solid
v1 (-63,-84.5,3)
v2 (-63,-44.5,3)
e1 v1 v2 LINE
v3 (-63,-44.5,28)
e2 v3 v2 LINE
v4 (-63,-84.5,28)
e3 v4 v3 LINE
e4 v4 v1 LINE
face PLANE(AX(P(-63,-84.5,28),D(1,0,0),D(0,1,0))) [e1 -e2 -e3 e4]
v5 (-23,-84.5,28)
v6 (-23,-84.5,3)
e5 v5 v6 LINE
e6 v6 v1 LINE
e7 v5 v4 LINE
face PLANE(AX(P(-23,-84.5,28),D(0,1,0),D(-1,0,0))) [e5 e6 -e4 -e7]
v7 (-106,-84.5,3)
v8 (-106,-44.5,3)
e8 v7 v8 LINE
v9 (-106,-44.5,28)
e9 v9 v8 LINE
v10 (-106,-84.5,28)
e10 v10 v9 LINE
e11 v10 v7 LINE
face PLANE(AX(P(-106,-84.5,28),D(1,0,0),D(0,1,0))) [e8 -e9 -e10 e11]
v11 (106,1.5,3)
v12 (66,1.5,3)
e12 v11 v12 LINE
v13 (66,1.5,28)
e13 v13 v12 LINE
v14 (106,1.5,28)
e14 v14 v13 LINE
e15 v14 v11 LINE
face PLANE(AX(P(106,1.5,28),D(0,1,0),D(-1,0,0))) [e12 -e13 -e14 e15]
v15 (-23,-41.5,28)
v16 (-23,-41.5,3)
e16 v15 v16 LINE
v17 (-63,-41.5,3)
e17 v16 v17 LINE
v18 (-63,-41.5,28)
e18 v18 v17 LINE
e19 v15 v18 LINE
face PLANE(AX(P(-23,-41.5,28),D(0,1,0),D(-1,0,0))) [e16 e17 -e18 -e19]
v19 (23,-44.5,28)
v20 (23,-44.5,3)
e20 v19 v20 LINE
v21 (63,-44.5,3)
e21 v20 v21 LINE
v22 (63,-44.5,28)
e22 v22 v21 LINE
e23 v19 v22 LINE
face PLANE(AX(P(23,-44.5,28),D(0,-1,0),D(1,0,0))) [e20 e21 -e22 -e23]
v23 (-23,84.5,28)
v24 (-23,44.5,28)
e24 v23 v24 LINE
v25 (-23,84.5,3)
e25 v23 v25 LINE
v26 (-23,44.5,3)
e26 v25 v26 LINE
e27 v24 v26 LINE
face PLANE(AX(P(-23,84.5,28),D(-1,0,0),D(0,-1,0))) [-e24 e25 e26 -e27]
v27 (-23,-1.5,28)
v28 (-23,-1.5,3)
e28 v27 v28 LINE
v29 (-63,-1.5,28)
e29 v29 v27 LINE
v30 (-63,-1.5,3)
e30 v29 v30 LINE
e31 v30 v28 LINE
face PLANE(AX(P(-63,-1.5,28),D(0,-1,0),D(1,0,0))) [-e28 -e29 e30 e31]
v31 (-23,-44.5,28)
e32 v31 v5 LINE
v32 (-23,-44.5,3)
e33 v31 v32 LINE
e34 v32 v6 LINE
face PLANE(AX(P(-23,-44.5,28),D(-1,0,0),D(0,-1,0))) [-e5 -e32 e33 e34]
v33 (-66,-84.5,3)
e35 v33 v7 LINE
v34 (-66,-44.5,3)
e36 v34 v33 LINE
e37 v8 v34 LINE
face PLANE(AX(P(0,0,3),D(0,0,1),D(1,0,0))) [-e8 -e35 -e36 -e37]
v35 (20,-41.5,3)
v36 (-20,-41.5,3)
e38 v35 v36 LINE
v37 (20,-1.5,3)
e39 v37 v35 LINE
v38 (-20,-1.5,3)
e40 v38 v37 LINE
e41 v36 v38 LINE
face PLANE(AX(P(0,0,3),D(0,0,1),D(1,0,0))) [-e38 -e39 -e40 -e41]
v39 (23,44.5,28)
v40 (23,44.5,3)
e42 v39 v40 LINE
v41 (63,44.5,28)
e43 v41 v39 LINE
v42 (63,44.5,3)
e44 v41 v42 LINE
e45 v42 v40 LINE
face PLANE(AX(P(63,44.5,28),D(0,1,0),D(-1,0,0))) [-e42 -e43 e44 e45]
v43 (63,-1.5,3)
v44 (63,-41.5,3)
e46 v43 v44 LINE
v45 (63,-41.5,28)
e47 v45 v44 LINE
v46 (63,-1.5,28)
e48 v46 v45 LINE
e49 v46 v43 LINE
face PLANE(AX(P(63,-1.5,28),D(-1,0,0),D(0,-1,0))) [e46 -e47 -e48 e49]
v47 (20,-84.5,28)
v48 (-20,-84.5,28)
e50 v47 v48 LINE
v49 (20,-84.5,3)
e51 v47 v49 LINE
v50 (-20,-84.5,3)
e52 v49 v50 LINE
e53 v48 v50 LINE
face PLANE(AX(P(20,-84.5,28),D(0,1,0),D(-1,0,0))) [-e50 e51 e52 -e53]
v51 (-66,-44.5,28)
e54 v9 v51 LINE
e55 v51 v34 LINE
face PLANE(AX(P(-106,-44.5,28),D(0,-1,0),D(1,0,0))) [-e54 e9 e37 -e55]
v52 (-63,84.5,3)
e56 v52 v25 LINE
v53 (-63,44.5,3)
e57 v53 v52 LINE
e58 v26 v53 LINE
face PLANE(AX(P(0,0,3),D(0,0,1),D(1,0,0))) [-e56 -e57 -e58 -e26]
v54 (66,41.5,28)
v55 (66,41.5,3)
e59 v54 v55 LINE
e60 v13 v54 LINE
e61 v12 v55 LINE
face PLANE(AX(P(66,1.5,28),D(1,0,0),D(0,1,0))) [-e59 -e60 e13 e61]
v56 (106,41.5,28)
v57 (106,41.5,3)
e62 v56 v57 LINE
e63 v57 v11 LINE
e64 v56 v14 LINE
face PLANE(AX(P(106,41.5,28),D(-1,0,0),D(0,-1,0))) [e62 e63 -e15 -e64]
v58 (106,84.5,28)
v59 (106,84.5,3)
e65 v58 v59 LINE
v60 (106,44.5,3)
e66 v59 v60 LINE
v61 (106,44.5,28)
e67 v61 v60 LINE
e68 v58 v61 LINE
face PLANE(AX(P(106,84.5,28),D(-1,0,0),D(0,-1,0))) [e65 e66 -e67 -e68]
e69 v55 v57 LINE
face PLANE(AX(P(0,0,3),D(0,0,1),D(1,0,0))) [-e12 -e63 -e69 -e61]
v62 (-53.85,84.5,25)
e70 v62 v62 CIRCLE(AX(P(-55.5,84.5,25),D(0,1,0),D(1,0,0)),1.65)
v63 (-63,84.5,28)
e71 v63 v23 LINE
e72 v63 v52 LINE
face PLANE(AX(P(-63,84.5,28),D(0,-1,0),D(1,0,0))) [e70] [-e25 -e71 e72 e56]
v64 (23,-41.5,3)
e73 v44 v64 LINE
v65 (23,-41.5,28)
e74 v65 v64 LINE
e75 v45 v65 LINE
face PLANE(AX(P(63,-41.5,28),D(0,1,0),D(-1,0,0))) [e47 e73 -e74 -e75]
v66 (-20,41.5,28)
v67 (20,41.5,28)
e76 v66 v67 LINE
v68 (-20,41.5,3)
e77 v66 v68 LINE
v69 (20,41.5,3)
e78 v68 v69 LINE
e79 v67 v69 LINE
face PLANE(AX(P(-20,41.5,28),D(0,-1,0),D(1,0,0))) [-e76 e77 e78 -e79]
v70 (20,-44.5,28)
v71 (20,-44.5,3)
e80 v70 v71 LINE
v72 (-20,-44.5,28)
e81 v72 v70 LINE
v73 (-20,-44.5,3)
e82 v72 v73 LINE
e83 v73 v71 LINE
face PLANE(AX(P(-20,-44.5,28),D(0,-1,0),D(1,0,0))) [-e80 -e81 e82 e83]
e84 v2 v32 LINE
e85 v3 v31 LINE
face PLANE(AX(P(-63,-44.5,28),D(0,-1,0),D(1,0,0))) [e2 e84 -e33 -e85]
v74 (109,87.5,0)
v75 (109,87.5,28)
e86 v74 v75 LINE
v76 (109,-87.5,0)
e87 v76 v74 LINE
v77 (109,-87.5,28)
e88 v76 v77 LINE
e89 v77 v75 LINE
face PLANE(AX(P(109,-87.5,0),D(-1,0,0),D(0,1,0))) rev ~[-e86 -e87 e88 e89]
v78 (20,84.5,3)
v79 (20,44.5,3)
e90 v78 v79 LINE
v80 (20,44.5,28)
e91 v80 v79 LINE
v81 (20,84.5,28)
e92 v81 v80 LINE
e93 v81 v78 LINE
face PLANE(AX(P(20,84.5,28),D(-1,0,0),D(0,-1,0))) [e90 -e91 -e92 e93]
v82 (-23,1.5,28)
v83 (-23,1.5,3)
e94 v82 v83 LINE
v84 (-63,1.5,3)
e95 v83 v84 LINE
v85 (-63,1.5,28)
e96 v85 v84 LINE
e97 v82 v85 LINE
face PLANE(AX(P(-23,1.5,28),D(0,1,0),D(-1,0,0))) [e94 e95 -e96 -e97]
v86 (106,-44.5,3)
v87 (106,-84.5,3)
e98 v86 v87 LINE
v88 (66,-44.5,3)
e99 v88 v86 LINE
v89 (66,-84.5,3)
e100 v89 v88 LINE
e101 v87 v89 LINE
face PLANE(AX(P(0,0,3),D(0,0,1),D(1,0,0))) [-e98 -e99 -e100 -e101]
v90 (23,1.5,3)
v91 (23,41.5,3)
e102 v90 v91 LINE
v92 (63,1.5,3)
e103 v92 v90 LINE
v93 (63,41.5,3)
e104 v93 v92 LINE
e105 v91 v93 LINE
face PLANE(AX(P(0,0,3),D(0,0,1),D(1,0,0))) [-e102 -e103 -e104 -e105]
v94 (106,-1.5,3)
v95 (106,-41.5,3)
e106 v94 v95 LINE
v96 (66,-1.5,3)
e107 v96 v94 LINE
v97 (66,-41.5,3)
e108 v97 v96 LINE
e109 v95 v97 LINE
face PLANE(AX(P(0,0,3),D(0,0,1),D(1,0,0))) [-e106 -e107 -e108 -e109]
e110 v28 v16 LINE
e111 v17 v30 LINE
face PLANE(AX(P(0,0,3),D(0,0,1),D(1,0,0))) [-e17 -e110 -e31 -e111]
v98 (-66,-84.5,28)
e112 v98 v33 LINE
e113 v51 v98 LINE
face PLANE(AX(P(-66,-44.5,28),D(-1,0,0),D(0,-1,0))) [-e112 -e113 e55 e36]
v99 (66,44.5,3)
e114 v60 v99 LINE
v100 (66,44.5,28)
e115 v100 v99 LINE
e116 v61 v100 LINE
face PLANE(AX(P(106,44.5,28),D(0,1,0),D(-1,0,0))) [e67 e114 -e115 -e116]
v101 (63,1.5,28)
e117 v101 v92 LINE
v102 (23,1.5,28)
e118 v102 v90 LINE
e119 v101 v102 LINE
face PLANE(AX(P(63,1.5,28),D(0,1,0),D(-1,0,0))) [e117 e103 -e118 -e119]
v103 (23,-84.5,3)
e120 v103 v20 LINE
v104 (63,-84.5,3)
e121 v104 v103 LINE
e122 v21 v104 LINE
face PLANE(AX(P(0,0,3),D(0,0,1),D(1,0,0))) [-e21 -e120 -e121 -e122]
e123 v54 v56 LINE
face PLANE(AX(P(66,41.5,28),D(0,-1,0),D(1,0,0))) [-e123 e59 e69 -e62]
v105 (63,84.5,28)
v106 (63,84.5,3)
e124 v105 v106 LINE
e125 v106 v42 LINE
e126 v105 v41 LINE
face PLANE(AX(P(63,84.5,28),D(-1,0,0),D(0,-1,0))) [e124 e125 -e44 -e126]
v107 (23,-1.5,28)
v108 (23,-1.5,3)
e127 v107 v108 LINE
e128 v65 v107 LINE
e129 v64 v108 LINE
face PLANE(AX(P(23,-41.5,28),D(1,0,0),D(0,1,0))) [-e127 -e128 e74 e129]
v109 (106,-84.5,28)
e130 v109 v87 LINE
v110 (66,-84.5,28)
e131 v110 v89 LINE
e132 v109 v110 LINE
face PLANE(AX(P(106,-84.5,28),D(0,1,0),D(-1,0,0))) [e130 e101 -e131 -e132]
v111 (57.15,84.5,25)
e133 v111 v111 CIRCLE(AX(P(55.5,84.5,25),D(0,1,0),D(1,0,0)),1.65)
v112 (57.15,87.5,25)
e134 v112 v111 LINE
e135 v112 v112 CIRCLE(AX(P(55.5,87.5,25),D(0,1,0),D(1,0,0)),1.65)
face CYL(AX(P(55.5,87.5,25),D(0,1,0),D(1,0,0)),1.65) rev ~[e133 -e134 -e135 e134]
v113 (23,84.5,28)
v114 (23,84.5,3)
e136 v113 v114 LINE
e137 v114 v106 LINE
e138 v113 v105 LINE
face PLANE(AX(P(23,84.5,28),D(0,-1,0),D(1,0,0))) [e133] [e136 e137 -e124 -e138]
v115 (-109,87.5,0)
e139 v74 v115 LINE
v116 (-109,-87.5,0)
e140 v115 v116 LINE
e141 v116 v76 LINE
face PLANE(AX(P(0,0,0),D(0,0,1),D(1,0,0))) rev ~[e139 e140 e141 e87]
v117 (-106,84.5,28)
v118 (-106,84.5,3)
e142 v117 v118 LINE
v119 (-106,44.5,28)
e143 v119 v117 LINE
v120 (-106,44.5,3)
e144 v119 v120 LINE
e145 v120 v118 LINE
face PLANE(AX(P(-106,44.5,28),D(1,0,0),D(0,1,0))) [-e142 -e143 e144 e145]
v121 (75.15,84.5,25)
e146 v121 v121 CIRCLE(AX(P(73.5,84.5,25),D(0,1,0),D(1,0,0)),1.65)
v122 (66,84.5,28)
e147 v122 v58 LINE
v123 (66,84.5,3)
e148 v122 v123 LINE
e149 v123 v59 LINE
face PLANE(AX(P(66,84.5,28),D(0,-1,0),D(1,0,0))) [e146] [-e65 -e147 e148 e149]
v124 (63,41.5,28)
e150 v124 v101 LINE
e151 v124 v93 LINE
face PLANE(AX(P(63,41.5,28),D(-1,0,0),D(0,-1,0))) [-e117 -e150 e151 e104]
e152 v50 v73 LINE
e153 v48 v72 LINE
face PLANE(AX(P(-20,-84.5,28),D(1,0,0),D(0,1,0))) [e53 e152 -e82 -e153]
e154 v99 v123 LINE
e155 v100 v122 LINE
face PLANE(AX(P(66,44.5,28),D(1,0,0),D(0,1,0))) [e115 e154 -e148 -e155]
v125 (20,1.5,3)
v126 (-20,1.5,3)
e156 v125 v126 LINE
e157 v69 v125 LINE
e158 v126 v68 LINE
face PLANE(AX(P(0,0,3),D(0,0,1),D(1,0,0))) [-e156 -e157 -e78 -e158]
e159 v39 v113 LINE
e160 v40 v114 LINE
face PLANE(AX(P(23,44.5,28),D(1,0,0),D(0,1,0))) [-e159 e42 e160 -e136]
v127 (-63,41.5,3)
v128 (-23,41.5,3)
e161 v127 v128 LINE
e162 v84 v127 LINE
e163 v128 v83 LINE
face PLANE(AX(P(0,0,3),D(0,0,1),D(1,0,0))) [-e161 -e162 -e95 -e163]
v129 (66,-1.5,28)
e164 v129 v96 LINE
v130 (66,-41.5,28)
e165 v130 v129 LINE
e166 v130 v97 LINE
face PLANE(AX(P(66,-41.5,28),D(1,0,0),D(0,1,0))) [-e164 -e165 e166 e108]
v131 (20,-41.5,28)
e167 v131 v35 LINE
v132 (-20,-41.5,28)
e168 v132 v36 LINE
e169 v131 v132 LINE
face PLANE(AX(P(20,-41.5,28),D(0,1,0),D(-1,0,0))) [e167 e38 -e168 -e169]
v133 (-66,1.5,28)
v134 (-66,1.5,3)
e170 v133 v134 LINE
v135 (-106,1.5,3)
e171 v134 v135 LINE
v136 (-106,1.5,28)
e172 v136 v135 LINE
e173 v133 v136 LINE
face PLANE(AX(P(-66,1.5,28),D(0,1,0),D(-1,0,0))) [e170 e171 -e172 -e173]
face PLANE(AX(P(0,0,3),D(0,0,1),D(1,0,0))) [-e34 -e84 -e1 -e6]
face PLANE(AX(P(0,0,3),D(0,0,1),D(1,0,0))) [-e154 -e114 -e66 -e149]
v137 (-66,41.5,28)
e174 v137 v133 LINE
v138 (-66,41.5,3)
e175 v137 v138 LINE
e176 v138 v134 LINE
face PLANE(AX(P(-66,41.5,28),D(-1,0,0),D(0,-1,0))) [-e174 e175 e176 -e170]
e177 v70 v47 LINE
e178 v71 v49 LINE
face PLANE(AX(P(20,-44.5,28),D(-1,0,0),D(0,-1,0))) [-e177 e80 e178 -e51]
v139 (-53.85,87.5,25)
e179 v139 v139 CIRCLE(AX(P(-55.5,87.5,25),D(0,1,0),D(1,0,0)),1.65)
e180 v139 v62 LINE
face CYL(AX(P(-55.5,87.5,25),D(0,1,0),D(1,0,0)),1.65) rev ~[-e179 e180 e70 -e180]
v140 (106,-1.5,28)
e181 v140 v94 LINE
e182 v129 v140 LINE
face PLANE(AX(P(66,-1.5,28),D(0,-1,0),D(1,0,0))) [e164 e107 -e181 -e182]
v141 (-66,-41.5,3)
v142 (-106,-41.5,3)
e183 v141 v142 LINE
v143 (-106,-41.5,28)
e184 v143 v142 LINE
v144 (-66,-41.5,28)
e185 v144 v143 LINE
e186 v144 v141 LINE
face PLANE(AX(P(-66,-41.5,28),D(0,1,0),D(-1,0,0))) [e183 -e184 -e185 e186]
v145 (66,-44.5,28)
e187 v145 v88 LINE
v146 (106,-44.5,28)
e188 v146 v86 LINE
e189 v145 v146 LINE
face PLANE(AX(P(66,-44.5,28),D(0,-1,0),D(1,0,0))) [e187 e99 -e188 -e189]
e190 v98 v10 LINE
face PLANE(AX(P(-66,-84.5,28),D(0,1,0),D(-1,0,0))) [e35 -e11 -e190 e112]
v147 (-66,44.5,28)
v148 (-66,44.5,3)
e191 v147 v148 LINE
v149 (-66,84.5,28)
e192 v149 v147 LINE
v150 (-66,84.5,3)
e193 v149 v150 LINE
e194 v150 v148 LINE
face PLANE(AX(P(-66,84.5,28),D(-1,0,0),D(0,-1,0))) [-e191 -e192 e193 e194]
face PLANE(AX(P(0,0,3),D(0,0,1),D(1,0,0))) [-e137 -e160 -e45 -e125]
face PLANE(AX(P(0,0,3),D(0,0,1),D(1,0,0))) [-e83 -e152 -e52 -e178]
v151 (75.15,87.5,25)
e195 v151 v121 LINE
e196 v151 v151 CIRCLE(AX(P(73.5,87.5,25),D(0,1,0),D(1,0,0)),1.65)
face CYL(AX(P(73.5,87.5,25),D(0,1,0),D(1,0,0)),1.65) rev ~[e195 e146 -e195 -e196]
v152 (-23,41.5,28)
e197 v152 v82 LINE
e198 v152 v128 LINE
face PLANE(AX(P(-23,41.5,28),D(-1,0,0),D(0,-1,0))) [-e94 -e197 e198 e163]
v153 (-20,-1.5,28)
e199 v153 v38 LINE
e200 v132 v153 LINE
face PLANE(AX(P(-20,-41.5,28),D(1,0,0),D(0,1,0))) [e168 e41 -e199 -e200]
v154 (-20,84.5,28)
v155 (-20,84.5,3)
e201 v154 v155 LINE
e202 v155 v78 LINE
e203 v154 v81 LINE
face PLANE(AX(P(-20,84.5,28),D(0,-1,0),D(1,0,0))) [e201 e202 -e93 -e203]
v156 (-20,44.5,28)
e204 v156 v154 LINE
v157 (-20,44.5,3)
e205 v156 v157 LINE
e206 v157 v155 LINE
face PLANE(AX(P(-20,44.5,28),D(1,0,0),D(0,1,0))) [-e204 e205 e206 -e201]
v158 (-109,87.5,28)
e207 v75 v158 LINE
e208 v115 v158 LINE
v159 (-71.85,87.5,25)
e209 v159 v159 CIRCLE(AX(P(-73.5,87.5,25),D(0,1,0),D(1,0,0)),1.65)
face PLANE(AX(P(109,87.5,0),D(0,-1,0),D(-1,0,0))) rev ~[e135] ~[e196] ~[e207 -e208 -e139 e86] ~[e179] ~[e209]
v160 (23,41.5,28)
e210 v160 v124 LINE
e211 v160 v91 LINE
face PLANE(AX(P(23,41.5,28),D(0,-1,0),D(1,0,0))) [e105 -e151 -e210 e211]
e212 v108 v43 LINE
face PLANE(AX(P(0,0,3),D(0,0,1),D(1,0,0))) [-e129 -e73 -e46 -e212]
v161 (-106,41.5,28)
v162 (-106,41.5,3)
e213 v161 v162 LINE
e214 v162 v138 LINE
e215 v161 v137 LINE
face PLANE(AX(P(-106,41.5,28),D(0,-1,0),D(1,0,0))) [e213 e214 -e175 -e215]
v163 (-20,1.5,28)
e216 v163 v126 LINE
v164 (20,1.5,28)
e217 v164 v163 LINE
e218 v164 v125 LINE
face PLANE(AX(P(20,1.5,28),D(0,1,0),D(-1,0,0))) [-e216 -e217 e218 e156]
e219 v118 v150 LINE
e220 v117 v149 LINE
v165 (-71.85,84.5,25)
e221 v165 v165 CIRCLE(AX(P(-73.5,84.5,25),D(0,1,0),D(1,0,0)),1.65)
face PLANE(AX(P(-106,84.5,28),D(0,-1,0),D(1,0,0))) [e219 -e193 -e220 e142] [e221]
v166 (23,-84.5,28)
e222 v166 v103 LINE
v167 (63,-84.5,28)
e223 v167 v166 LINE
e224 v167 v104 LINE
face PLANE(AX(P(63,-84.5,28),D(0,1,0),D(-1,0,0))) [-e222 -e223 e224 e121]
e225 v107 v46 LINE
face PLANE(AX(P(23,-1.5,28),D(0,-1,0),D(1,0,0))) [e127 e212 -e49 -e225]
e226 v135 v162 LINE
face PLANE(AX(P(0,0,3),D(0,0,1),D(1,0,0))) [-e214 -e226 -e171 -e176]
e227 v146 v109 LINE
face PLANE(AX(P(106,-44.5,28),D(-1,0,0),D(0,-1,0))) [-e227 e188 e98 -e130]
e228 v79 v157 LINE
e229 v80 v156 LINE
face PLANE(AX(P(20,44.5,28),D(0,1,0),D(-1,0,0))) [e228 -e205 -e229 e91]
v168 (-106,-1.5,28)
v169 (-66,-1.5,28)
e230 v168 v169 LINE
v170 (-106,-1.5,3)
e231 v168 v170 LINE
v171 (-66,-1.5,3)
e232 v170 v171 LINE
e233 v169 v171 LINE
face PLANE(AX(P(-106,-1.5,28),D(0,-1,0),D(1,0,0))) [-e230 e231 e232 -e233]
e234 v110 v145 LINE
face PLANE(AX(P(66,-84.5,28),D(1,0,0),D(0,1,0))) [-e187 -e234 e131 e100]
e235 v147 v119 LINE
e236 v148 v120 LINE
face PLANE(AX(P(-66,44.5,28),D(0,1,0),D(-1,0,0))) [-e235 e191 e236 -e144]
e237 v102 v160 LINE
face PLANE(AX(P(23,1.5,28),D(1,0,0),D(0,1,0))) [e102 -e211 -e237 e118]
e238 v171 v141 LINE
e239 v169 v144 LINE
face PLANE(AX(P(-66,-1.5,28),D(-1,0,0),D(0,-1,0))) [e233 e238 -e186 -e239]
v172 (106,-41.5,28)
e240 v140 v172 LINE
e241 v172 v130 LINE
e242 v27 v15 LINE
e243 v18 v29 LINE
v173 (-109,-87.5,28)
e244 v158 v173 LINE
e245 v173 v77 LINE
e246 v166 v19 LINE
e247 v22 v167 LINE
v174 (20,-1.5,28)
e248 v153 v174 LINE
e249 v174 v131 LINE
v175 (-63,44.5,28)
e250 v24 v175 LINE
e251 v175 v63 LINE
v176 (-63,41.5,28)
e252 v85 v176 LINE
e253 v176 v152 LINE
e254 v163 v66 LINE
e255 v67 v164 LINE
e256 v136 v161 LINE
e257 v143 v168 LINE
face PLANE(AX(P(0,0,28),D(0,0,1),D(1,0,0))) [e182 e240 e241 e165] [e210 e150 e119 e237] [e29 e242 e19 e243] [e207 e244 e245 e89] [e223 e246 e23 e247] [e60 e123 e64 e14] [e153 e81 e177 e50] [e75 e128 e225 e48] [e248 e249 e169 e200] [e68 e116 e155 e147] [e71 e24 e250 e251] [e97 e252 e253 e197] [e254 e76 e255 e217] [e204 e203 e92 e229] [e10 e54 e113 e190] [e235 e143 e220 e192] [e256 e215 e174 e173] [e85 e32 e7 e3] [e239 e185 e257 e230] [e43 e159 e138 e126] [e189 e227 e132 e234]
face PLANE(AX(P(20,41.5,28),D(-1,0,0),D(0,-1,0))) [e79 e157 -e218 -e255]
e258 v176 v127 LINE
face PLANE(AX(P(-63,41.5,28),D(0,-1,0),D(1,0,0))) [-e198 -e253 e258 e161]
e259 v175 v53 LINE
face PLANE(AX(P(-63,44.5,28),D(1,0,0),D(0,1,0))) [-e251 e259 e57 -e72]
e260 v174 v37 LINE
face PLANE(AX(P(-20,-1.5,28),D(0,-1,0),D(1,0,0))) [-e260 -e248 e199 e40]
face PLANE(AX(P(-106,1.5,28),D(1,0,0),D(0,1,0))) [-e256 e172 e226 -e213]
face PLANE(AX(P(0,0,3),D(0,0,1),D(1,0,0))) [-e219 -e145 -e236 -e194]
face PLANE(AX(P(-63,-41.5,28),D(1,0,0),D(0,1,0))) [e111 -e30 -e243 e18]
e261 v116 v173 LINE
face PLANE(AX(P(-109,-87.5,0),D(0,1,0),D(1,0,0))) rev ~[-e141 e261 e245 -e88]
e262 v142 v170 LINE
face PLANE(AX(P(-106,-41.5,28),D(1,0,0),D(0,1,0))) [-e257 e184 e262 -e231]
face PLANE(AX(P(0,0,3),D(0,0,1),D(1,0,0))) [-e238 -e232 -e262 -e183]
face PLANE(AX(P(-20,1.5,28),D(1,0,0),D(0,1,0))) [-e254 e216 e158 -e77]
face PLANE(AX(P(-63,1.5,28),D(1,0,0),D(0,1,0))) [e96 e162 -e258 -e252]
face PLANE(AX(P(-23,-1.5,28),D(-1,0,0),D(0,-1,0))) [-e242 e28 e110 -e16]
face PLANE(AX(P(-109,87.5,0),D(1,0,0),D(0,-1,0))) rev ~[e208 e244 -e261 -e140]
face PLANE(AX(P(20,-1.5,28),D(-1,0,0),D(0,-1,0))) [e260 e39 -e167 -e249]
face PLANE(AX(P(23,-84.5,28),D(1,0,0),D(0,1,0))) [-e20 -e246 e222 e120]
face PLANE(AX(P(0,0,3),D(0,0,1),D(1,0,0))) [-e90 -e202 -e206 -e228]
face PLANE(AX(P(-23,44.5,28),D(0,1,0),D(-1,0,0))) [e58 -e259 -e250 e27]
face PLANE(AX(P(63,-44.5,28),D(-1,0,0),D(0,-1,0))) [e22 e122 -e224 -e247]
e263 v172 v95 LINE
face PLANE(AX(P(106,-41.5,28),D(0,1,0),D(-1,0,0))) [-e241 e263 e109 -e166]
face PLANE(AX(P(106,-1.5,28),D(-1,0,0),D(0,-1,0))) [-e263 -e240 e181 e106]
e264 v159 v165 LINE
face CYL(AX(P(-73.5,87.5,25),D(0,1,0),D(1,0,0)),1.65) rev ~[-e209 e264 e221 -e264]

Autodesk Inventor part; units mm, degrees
ref_plane "YZ Plane" through (0, 0, 0) normal (1, 0, 0) x (0, 1, 0)
ref_plane "XZ Plane" through (0, 0, 0) normal (0, 1, 0) x (-1, 0, 0)
ref_plane "XY Plane" through (0, 0, 0) normal (0, 0, 1) x (1, 0, 0)
sketch "Sketch1" plane through (0, 0, 0) normal (0, 0, 1) x (1, 0, 0)
  line L0 (-109, -87.5) -> (109, -87.5)
  line L1 (109, -87.5) -> (109, 87.5)
  line L2 (109, 87.5) -> (-109, 87.5)
  line L3 (-109, 87.5) -> (-109, -87.5)
  line L4 (-109, -87.5) -> (109, 87.5) construction
  line L5 (109, -87.5) -> (-109, 87.5) construction
  point P0 (0, 0)
  dimension "d0" = 218
  dimension "d1" = 175
extrude "Extrusion1" add sketch "Sketch1" along normal blind 28
sketch "Sketch2" plane through (0, 0, 28) normal (0, 0, 1) x (1, 0, 0)
  line L0 (-106, 84.5) -> (-66, 84.5)
  line L1 (-66, 84.5) -> (-66, 44.5)
  line L2 (-66, 44.5) -> (-106, 44.5)
  line L3 (-106, 44.5) -> (-106, 84.5)
  line L4 (-106, 84.5) -> (-66, 44.5) construction
  line L5 (-66, 84.5) -> (-106, 44.5) construction
  line L6 (109, 87.5) -> (-109, 87.5) projected
  line L7 (-109, 87.5) -> (-109, -87.5) projected
  line L8 (-63, 84.5) -> (-23, 84.5)
  line L9 (-23, 84.5) -> (-23, 44.5)
  line L10 (-23, 44.5) -> (-63, 44.5)
  line L11 (-63, 44.5) -> (-63, 84.5)
  line L12 (-63, 84.5) -> (-23, 44.5) construction
  line L13 (-23, 84.5) -> (-63, 44.5) construction
  line L14 (-20, 84.5) -> (20, 84.5)
  line L15 (20, 84.5) -> (20, 44.5)
  line L16 (20, 44.5) -> (-20, 44.5)
  line L17 (-20, 44.5) -> (-20, 84.5)
  line L18 (-20, 84.5) -> (20, 44.5) construction
  line L19 (20, 84.5) -> (-20, 44.5) construction
  line L20 (23, 84.5) -> (63, 84.5)
  line L21 (63, 84.5) -> (63, 44.5)
  line L22 (63, 44.5) -> (23, 44.5)
  line L23 (23, 44.5) -> (23, 84.5)
  line L24 (23, 84.5) -> (63, 44.5) construction
  line L25 (63, 84.5) -> (23, 44.5) construction
  line L26 (66, 84.5) -> (106, 84.5)
  line L27 (106, 84.5) -> (106, 44.5)
  line L28 (106, 44.5) -> (66, 44.5)
  line L29 (66, 44.5) -> (66, 84.5)
  line L30 (66, 84.5) -> (106, 44.5) construction
  line L31 (106, 84.5) -> (66, 44.5) construction
  line L32 (-106, 41.5) -> (-66, 41.5)
  line L33 (-66, 41.5) -> (-66, 1.5)
  line L34 (-66, 1.5) -> (-106, 1.5)
  line L35 (-106, 1.5) -> (-106, 41.5)
  line L36 (-106, 41.5) -> (-66, 1.5) construction
  line L37 (-66, 41.5) -> (-106, 1.5) construction
  line L38 (-63, 41.5) -> (-23, 41.5)
  line L39 (-23, 41.5) -> (-23, 1.5)
  line L40 (-23, 1.5) -> (-63, 1.5)
  line L41 (-63, 1.5) -> (-63, 41.5)
  line L42 (-63, 41.5) -> (-23, 1.5) construction
  line L43 (-23, 41.5) -> (-63, 1.5) construction
  line L44 (-20, 41.5) -> (20, 41.5)
  line L45 (20, 41.5) -> (20, 1.5)
  line L46 (20, 1.5) -> (-20, 1.5)
  line L47 (-20, 1.5) -> (-20, 41.5)
  line L48 (-20, 41.5) -> (20, 1.5) construction
  line L49 (20, 41.5) -> (-20, 1.5) construction
  line L50 (23, 41.5) -> (63, 41.5)
  line L51 (63, 41.5) -> (63, 1.5)
  line L52 (63, 1.5) -> (23, 1.5)
  line L53 (23, 1.5) -> (23, 41.5)
  line L54 (23, 41.5) -> (63, 1.5) construction
  line L55 (63, 41.5) -> (23, 1.5) construction
  line L56 (66, 41.5) -> (106, 41.5)
  line L57 (106, 41.5) -> (106, 1.5)
  line L58 (106, 1.5) -> (66, 1.5)
  line L59 (66, 1.5) -> (66, 41.5)
  line L60 (66, 41.5) -> (106, 1.5) construction
  line L61 (106, 41.5) -> (66, 1.5) construction
  line L62 (-106, -1.5) -> (-66, -1.5)
  line L63 (-66, -1.5) -> (-66, -41.5)
  line L64 (-66, -41.5) -> (-106, -41.5)
  line L65 (-106, -41.5) -> (-106, -1.5)
  line L66 (-106, -1.5) -> (-66, -41.5) construction
  line L67 (-66, -1.5) -> (-106, -41.5) construction
  line L68 (-63, -1.5) -> (-23, -1.5)
  line L69 (-23, -1.5) -> (-23, -41.5)
  line L70 (-23, -41.5) -> (-63, -41.5)
  line L71 (-63, -41.5) -> (-63, -1.5)
  line L72 (-63, -1.5) -> (-23, -41.5) construction
  line L73 (-23, -1.5) -> (-63, -41.5) construction
  line L74 (-20, -1.5) -> (20, -1.5)
  line L75 (20, -1.5) -> (20, -41.5)
  line L76 (20, -41.5) -> (-20, -41.5)
  line L77 (-20, -41.5) -> (-20, -1.5)
  line L78 (-20, -1.5) -> (20, -41.5) construction
  line L79 (20, -1.5) -> (-20, -41.5) construction
  line L80 (23, -1.5) -> (63, -1.5)
  line L81 (63, -1.5) -> (63, -41.5)
  line L82 (63, -41.5) -> (23, -41.5)
  line L83 (23, -41.5) -> (23, -1.5)
  line L84 (23, -1.5) -> (63, -41.5) construction
  line L85 (63, -1.5) -> (23, -41.5) construction
  line L86 (66, -1.5) -> (106, -1.5)
  line L87 (106, -1.5) -> (106, -41.5)
  line L88 (106, -41.5) -> (66, -41.5)
  line L89 (66, -41.5) -> (66, -1.5)
  line L90 (66, -1.5) -> (106, -41.5) construction
  line L91 (106, -1.5) -> (66, -41.5) construction
  line L92 (-106, -44.5) -> (-66, -44.5)
  line L93 (-66, -44.5) -> (-66, -84.5)
  line L94 (-66, -84.5) -> (-106, -84.5)
  line L95 (-106, -84.5) -> (-106, -44.5)
  line L96 (-106, -44.5) -> (-66, -84.5) construction
  line L97 (-66, -44.5) -> (-106, -84.5) construction
  line L98 (-63, -44.5) -> (-23, -44.5)
  line L99 (-23, -44.5) -> (-23, -84.5)
  line L100 (-23, -84.5) -> (-63, -84.5)
  line L101 (-63, -84.5) -> (-63, -44.5)
  line L102 (-63, -44.5) -> (-23, -84.5) construction
  line L103 (-23, -44.5) -> (-63, -84.5) construction
  line L104 (-20, -44.5) -> (20, -44.5)
  line L105 (20, -44.5) -> (20, -84.5)
  line L106 (20, -84.5) -> (-20, -84.5)
  line L107 (-20, -84.5) -> (-20, -44.5)
  line L108 (-20, -44.5) -> (20, -84.5) construction
  line L109 (20, -44.5) -> (-20, -84.5) construction
  line L110 (23, -44.5) -> (63, -44.5)
  line L111 (63, -44.5) -> (63, -84.5)
  line L112 (63, -84.5) -> (23, -84.5)
  line L113 (23, -84.5) -> (23, -44.5)
  line L114 (23, -44.5) -> (63, -84.5) construction
  line L115 (63, -44.5) -> (23, -84.5) construction
  line L116 (66, -44.5) -> (106, -44.5)
  line L117 (106, -44.5) -> (106, -84.5)
  line L118 (106, -84.5) -> (66, -84.5)
  line L119 (66, -84.5) -> (66, -44.5)
  line L120 (66, -44.5) -> (106, -84.5) construction
  line L121 (106, -44.5) -> (66, -84.5) construction
  point P0 (0, 0)
  point P1 (-86, 64.5)
  point P2 (-43, 64.5)
  point P3 (0, 64.5)
  point P4 (43, 64.5)
  point P5 (86, 64.5)
  point P6 (-86, 21.5)
  point P7 (-43, 21.5)
  point P8 (0, 21.5)
  point P9 (43, 21.5)
  point P10 (86, 21.5)
  point P11 (-86, -21.5)
  point P12 (-43, -21.5)
  point P13 (0, -21.5)
  point P14 (43, -21.5)
  point P15 (86, -21.5)
  point P16 (-86, -64.5)
  point P17 (-43, -64.5)
  point P18 (0, -64.5)
  point P19 (43, -64.5)
  point P20 (86, -64.5)
  dimension "d4" = 40
  dimension "d5" = 3
  dimension "d6" = 3
  dimension "d7" = 40
  dimension "d10" = 43
  dimension "d13" = 43
extrude "Extrusion2" cut sketch "Sketch2" against normal blind 25
sketch "Sketch3" plane through (-109, 87.5, 0) normal (0, 1, 0) x (1, 0, 0)
  line L0 (46, -28) -> (46, -3) construction
  line L1 (43, -28) -> (43, -3) construction
  line L2 (43, -28) -> (43, -3) projected
  line L3 (43, -25) -> (46, -25) construction
  line L4 (46, -28) -> (46, -3) projected
  line L5 (218, -28) -> (0, -28) projected
  circle A0 centre (53.5, -25) radius 1.65
  circle A1 centre (35.5, -25) radius 1.65
  line L6 (172, -28) -> (172, -3) construction
  line L7 (175, -28) -> (175, -3) construction
  line L8 (172, -28) -> (172, -3) projected
  line L9 (172, -25) -> (175, -25) construction
  circle A2 centre (182.5, -25) radius 1.65
  circle A3 centre (164.5, -25) radius 1.65
  point P0 (109, 0)
  point P1 (44.5, -25)
  point P2 (173.5, -25)
  dimension "d20" = 3
  dimension "d21" = 3.3
  dimension "d22" = 9
  dimension "d23" = 3.3
  dimension "d24" = 9
  dimension "d25" = 3.3
  dimension "d27" = 9
  dimension "d30" = 3
  dimension "d31" = 3.3
  dimension "d32" = 9
extrude "Extrusion3" cut sketch "Sketch3" against normal blind 10
equation "\"d0\" = box_length"
equation "\"d1\" = box_width"
equation "\"d2\" = hole_height + wall"
equation "\"d4\" = hole"
equation "\"d5\" = wall"
equation "\"d6\" = wall"
equation "\"d7\" = hole"
equation "\"d10\" = hole + wall"
equation "\"d13\" = hole + wall"
equation "\"d16\" = hole_height"
equation "\"d23\" = d21"
equation "\"d24\" = d22"
equation "\"d25\" = d21"
equation "\"d27\" = d22"
equation "\"d31\" = d25"
equation "\"d32\" = d27"
equation "\"hole\" = 40"
equation "\"wall\" = 3"
equation "\"hole_height\" = 25"
equation "\"box_length\" = 218"
equation "\"box_width\" = 175"
properties part number "RatPelletBox_v02"
